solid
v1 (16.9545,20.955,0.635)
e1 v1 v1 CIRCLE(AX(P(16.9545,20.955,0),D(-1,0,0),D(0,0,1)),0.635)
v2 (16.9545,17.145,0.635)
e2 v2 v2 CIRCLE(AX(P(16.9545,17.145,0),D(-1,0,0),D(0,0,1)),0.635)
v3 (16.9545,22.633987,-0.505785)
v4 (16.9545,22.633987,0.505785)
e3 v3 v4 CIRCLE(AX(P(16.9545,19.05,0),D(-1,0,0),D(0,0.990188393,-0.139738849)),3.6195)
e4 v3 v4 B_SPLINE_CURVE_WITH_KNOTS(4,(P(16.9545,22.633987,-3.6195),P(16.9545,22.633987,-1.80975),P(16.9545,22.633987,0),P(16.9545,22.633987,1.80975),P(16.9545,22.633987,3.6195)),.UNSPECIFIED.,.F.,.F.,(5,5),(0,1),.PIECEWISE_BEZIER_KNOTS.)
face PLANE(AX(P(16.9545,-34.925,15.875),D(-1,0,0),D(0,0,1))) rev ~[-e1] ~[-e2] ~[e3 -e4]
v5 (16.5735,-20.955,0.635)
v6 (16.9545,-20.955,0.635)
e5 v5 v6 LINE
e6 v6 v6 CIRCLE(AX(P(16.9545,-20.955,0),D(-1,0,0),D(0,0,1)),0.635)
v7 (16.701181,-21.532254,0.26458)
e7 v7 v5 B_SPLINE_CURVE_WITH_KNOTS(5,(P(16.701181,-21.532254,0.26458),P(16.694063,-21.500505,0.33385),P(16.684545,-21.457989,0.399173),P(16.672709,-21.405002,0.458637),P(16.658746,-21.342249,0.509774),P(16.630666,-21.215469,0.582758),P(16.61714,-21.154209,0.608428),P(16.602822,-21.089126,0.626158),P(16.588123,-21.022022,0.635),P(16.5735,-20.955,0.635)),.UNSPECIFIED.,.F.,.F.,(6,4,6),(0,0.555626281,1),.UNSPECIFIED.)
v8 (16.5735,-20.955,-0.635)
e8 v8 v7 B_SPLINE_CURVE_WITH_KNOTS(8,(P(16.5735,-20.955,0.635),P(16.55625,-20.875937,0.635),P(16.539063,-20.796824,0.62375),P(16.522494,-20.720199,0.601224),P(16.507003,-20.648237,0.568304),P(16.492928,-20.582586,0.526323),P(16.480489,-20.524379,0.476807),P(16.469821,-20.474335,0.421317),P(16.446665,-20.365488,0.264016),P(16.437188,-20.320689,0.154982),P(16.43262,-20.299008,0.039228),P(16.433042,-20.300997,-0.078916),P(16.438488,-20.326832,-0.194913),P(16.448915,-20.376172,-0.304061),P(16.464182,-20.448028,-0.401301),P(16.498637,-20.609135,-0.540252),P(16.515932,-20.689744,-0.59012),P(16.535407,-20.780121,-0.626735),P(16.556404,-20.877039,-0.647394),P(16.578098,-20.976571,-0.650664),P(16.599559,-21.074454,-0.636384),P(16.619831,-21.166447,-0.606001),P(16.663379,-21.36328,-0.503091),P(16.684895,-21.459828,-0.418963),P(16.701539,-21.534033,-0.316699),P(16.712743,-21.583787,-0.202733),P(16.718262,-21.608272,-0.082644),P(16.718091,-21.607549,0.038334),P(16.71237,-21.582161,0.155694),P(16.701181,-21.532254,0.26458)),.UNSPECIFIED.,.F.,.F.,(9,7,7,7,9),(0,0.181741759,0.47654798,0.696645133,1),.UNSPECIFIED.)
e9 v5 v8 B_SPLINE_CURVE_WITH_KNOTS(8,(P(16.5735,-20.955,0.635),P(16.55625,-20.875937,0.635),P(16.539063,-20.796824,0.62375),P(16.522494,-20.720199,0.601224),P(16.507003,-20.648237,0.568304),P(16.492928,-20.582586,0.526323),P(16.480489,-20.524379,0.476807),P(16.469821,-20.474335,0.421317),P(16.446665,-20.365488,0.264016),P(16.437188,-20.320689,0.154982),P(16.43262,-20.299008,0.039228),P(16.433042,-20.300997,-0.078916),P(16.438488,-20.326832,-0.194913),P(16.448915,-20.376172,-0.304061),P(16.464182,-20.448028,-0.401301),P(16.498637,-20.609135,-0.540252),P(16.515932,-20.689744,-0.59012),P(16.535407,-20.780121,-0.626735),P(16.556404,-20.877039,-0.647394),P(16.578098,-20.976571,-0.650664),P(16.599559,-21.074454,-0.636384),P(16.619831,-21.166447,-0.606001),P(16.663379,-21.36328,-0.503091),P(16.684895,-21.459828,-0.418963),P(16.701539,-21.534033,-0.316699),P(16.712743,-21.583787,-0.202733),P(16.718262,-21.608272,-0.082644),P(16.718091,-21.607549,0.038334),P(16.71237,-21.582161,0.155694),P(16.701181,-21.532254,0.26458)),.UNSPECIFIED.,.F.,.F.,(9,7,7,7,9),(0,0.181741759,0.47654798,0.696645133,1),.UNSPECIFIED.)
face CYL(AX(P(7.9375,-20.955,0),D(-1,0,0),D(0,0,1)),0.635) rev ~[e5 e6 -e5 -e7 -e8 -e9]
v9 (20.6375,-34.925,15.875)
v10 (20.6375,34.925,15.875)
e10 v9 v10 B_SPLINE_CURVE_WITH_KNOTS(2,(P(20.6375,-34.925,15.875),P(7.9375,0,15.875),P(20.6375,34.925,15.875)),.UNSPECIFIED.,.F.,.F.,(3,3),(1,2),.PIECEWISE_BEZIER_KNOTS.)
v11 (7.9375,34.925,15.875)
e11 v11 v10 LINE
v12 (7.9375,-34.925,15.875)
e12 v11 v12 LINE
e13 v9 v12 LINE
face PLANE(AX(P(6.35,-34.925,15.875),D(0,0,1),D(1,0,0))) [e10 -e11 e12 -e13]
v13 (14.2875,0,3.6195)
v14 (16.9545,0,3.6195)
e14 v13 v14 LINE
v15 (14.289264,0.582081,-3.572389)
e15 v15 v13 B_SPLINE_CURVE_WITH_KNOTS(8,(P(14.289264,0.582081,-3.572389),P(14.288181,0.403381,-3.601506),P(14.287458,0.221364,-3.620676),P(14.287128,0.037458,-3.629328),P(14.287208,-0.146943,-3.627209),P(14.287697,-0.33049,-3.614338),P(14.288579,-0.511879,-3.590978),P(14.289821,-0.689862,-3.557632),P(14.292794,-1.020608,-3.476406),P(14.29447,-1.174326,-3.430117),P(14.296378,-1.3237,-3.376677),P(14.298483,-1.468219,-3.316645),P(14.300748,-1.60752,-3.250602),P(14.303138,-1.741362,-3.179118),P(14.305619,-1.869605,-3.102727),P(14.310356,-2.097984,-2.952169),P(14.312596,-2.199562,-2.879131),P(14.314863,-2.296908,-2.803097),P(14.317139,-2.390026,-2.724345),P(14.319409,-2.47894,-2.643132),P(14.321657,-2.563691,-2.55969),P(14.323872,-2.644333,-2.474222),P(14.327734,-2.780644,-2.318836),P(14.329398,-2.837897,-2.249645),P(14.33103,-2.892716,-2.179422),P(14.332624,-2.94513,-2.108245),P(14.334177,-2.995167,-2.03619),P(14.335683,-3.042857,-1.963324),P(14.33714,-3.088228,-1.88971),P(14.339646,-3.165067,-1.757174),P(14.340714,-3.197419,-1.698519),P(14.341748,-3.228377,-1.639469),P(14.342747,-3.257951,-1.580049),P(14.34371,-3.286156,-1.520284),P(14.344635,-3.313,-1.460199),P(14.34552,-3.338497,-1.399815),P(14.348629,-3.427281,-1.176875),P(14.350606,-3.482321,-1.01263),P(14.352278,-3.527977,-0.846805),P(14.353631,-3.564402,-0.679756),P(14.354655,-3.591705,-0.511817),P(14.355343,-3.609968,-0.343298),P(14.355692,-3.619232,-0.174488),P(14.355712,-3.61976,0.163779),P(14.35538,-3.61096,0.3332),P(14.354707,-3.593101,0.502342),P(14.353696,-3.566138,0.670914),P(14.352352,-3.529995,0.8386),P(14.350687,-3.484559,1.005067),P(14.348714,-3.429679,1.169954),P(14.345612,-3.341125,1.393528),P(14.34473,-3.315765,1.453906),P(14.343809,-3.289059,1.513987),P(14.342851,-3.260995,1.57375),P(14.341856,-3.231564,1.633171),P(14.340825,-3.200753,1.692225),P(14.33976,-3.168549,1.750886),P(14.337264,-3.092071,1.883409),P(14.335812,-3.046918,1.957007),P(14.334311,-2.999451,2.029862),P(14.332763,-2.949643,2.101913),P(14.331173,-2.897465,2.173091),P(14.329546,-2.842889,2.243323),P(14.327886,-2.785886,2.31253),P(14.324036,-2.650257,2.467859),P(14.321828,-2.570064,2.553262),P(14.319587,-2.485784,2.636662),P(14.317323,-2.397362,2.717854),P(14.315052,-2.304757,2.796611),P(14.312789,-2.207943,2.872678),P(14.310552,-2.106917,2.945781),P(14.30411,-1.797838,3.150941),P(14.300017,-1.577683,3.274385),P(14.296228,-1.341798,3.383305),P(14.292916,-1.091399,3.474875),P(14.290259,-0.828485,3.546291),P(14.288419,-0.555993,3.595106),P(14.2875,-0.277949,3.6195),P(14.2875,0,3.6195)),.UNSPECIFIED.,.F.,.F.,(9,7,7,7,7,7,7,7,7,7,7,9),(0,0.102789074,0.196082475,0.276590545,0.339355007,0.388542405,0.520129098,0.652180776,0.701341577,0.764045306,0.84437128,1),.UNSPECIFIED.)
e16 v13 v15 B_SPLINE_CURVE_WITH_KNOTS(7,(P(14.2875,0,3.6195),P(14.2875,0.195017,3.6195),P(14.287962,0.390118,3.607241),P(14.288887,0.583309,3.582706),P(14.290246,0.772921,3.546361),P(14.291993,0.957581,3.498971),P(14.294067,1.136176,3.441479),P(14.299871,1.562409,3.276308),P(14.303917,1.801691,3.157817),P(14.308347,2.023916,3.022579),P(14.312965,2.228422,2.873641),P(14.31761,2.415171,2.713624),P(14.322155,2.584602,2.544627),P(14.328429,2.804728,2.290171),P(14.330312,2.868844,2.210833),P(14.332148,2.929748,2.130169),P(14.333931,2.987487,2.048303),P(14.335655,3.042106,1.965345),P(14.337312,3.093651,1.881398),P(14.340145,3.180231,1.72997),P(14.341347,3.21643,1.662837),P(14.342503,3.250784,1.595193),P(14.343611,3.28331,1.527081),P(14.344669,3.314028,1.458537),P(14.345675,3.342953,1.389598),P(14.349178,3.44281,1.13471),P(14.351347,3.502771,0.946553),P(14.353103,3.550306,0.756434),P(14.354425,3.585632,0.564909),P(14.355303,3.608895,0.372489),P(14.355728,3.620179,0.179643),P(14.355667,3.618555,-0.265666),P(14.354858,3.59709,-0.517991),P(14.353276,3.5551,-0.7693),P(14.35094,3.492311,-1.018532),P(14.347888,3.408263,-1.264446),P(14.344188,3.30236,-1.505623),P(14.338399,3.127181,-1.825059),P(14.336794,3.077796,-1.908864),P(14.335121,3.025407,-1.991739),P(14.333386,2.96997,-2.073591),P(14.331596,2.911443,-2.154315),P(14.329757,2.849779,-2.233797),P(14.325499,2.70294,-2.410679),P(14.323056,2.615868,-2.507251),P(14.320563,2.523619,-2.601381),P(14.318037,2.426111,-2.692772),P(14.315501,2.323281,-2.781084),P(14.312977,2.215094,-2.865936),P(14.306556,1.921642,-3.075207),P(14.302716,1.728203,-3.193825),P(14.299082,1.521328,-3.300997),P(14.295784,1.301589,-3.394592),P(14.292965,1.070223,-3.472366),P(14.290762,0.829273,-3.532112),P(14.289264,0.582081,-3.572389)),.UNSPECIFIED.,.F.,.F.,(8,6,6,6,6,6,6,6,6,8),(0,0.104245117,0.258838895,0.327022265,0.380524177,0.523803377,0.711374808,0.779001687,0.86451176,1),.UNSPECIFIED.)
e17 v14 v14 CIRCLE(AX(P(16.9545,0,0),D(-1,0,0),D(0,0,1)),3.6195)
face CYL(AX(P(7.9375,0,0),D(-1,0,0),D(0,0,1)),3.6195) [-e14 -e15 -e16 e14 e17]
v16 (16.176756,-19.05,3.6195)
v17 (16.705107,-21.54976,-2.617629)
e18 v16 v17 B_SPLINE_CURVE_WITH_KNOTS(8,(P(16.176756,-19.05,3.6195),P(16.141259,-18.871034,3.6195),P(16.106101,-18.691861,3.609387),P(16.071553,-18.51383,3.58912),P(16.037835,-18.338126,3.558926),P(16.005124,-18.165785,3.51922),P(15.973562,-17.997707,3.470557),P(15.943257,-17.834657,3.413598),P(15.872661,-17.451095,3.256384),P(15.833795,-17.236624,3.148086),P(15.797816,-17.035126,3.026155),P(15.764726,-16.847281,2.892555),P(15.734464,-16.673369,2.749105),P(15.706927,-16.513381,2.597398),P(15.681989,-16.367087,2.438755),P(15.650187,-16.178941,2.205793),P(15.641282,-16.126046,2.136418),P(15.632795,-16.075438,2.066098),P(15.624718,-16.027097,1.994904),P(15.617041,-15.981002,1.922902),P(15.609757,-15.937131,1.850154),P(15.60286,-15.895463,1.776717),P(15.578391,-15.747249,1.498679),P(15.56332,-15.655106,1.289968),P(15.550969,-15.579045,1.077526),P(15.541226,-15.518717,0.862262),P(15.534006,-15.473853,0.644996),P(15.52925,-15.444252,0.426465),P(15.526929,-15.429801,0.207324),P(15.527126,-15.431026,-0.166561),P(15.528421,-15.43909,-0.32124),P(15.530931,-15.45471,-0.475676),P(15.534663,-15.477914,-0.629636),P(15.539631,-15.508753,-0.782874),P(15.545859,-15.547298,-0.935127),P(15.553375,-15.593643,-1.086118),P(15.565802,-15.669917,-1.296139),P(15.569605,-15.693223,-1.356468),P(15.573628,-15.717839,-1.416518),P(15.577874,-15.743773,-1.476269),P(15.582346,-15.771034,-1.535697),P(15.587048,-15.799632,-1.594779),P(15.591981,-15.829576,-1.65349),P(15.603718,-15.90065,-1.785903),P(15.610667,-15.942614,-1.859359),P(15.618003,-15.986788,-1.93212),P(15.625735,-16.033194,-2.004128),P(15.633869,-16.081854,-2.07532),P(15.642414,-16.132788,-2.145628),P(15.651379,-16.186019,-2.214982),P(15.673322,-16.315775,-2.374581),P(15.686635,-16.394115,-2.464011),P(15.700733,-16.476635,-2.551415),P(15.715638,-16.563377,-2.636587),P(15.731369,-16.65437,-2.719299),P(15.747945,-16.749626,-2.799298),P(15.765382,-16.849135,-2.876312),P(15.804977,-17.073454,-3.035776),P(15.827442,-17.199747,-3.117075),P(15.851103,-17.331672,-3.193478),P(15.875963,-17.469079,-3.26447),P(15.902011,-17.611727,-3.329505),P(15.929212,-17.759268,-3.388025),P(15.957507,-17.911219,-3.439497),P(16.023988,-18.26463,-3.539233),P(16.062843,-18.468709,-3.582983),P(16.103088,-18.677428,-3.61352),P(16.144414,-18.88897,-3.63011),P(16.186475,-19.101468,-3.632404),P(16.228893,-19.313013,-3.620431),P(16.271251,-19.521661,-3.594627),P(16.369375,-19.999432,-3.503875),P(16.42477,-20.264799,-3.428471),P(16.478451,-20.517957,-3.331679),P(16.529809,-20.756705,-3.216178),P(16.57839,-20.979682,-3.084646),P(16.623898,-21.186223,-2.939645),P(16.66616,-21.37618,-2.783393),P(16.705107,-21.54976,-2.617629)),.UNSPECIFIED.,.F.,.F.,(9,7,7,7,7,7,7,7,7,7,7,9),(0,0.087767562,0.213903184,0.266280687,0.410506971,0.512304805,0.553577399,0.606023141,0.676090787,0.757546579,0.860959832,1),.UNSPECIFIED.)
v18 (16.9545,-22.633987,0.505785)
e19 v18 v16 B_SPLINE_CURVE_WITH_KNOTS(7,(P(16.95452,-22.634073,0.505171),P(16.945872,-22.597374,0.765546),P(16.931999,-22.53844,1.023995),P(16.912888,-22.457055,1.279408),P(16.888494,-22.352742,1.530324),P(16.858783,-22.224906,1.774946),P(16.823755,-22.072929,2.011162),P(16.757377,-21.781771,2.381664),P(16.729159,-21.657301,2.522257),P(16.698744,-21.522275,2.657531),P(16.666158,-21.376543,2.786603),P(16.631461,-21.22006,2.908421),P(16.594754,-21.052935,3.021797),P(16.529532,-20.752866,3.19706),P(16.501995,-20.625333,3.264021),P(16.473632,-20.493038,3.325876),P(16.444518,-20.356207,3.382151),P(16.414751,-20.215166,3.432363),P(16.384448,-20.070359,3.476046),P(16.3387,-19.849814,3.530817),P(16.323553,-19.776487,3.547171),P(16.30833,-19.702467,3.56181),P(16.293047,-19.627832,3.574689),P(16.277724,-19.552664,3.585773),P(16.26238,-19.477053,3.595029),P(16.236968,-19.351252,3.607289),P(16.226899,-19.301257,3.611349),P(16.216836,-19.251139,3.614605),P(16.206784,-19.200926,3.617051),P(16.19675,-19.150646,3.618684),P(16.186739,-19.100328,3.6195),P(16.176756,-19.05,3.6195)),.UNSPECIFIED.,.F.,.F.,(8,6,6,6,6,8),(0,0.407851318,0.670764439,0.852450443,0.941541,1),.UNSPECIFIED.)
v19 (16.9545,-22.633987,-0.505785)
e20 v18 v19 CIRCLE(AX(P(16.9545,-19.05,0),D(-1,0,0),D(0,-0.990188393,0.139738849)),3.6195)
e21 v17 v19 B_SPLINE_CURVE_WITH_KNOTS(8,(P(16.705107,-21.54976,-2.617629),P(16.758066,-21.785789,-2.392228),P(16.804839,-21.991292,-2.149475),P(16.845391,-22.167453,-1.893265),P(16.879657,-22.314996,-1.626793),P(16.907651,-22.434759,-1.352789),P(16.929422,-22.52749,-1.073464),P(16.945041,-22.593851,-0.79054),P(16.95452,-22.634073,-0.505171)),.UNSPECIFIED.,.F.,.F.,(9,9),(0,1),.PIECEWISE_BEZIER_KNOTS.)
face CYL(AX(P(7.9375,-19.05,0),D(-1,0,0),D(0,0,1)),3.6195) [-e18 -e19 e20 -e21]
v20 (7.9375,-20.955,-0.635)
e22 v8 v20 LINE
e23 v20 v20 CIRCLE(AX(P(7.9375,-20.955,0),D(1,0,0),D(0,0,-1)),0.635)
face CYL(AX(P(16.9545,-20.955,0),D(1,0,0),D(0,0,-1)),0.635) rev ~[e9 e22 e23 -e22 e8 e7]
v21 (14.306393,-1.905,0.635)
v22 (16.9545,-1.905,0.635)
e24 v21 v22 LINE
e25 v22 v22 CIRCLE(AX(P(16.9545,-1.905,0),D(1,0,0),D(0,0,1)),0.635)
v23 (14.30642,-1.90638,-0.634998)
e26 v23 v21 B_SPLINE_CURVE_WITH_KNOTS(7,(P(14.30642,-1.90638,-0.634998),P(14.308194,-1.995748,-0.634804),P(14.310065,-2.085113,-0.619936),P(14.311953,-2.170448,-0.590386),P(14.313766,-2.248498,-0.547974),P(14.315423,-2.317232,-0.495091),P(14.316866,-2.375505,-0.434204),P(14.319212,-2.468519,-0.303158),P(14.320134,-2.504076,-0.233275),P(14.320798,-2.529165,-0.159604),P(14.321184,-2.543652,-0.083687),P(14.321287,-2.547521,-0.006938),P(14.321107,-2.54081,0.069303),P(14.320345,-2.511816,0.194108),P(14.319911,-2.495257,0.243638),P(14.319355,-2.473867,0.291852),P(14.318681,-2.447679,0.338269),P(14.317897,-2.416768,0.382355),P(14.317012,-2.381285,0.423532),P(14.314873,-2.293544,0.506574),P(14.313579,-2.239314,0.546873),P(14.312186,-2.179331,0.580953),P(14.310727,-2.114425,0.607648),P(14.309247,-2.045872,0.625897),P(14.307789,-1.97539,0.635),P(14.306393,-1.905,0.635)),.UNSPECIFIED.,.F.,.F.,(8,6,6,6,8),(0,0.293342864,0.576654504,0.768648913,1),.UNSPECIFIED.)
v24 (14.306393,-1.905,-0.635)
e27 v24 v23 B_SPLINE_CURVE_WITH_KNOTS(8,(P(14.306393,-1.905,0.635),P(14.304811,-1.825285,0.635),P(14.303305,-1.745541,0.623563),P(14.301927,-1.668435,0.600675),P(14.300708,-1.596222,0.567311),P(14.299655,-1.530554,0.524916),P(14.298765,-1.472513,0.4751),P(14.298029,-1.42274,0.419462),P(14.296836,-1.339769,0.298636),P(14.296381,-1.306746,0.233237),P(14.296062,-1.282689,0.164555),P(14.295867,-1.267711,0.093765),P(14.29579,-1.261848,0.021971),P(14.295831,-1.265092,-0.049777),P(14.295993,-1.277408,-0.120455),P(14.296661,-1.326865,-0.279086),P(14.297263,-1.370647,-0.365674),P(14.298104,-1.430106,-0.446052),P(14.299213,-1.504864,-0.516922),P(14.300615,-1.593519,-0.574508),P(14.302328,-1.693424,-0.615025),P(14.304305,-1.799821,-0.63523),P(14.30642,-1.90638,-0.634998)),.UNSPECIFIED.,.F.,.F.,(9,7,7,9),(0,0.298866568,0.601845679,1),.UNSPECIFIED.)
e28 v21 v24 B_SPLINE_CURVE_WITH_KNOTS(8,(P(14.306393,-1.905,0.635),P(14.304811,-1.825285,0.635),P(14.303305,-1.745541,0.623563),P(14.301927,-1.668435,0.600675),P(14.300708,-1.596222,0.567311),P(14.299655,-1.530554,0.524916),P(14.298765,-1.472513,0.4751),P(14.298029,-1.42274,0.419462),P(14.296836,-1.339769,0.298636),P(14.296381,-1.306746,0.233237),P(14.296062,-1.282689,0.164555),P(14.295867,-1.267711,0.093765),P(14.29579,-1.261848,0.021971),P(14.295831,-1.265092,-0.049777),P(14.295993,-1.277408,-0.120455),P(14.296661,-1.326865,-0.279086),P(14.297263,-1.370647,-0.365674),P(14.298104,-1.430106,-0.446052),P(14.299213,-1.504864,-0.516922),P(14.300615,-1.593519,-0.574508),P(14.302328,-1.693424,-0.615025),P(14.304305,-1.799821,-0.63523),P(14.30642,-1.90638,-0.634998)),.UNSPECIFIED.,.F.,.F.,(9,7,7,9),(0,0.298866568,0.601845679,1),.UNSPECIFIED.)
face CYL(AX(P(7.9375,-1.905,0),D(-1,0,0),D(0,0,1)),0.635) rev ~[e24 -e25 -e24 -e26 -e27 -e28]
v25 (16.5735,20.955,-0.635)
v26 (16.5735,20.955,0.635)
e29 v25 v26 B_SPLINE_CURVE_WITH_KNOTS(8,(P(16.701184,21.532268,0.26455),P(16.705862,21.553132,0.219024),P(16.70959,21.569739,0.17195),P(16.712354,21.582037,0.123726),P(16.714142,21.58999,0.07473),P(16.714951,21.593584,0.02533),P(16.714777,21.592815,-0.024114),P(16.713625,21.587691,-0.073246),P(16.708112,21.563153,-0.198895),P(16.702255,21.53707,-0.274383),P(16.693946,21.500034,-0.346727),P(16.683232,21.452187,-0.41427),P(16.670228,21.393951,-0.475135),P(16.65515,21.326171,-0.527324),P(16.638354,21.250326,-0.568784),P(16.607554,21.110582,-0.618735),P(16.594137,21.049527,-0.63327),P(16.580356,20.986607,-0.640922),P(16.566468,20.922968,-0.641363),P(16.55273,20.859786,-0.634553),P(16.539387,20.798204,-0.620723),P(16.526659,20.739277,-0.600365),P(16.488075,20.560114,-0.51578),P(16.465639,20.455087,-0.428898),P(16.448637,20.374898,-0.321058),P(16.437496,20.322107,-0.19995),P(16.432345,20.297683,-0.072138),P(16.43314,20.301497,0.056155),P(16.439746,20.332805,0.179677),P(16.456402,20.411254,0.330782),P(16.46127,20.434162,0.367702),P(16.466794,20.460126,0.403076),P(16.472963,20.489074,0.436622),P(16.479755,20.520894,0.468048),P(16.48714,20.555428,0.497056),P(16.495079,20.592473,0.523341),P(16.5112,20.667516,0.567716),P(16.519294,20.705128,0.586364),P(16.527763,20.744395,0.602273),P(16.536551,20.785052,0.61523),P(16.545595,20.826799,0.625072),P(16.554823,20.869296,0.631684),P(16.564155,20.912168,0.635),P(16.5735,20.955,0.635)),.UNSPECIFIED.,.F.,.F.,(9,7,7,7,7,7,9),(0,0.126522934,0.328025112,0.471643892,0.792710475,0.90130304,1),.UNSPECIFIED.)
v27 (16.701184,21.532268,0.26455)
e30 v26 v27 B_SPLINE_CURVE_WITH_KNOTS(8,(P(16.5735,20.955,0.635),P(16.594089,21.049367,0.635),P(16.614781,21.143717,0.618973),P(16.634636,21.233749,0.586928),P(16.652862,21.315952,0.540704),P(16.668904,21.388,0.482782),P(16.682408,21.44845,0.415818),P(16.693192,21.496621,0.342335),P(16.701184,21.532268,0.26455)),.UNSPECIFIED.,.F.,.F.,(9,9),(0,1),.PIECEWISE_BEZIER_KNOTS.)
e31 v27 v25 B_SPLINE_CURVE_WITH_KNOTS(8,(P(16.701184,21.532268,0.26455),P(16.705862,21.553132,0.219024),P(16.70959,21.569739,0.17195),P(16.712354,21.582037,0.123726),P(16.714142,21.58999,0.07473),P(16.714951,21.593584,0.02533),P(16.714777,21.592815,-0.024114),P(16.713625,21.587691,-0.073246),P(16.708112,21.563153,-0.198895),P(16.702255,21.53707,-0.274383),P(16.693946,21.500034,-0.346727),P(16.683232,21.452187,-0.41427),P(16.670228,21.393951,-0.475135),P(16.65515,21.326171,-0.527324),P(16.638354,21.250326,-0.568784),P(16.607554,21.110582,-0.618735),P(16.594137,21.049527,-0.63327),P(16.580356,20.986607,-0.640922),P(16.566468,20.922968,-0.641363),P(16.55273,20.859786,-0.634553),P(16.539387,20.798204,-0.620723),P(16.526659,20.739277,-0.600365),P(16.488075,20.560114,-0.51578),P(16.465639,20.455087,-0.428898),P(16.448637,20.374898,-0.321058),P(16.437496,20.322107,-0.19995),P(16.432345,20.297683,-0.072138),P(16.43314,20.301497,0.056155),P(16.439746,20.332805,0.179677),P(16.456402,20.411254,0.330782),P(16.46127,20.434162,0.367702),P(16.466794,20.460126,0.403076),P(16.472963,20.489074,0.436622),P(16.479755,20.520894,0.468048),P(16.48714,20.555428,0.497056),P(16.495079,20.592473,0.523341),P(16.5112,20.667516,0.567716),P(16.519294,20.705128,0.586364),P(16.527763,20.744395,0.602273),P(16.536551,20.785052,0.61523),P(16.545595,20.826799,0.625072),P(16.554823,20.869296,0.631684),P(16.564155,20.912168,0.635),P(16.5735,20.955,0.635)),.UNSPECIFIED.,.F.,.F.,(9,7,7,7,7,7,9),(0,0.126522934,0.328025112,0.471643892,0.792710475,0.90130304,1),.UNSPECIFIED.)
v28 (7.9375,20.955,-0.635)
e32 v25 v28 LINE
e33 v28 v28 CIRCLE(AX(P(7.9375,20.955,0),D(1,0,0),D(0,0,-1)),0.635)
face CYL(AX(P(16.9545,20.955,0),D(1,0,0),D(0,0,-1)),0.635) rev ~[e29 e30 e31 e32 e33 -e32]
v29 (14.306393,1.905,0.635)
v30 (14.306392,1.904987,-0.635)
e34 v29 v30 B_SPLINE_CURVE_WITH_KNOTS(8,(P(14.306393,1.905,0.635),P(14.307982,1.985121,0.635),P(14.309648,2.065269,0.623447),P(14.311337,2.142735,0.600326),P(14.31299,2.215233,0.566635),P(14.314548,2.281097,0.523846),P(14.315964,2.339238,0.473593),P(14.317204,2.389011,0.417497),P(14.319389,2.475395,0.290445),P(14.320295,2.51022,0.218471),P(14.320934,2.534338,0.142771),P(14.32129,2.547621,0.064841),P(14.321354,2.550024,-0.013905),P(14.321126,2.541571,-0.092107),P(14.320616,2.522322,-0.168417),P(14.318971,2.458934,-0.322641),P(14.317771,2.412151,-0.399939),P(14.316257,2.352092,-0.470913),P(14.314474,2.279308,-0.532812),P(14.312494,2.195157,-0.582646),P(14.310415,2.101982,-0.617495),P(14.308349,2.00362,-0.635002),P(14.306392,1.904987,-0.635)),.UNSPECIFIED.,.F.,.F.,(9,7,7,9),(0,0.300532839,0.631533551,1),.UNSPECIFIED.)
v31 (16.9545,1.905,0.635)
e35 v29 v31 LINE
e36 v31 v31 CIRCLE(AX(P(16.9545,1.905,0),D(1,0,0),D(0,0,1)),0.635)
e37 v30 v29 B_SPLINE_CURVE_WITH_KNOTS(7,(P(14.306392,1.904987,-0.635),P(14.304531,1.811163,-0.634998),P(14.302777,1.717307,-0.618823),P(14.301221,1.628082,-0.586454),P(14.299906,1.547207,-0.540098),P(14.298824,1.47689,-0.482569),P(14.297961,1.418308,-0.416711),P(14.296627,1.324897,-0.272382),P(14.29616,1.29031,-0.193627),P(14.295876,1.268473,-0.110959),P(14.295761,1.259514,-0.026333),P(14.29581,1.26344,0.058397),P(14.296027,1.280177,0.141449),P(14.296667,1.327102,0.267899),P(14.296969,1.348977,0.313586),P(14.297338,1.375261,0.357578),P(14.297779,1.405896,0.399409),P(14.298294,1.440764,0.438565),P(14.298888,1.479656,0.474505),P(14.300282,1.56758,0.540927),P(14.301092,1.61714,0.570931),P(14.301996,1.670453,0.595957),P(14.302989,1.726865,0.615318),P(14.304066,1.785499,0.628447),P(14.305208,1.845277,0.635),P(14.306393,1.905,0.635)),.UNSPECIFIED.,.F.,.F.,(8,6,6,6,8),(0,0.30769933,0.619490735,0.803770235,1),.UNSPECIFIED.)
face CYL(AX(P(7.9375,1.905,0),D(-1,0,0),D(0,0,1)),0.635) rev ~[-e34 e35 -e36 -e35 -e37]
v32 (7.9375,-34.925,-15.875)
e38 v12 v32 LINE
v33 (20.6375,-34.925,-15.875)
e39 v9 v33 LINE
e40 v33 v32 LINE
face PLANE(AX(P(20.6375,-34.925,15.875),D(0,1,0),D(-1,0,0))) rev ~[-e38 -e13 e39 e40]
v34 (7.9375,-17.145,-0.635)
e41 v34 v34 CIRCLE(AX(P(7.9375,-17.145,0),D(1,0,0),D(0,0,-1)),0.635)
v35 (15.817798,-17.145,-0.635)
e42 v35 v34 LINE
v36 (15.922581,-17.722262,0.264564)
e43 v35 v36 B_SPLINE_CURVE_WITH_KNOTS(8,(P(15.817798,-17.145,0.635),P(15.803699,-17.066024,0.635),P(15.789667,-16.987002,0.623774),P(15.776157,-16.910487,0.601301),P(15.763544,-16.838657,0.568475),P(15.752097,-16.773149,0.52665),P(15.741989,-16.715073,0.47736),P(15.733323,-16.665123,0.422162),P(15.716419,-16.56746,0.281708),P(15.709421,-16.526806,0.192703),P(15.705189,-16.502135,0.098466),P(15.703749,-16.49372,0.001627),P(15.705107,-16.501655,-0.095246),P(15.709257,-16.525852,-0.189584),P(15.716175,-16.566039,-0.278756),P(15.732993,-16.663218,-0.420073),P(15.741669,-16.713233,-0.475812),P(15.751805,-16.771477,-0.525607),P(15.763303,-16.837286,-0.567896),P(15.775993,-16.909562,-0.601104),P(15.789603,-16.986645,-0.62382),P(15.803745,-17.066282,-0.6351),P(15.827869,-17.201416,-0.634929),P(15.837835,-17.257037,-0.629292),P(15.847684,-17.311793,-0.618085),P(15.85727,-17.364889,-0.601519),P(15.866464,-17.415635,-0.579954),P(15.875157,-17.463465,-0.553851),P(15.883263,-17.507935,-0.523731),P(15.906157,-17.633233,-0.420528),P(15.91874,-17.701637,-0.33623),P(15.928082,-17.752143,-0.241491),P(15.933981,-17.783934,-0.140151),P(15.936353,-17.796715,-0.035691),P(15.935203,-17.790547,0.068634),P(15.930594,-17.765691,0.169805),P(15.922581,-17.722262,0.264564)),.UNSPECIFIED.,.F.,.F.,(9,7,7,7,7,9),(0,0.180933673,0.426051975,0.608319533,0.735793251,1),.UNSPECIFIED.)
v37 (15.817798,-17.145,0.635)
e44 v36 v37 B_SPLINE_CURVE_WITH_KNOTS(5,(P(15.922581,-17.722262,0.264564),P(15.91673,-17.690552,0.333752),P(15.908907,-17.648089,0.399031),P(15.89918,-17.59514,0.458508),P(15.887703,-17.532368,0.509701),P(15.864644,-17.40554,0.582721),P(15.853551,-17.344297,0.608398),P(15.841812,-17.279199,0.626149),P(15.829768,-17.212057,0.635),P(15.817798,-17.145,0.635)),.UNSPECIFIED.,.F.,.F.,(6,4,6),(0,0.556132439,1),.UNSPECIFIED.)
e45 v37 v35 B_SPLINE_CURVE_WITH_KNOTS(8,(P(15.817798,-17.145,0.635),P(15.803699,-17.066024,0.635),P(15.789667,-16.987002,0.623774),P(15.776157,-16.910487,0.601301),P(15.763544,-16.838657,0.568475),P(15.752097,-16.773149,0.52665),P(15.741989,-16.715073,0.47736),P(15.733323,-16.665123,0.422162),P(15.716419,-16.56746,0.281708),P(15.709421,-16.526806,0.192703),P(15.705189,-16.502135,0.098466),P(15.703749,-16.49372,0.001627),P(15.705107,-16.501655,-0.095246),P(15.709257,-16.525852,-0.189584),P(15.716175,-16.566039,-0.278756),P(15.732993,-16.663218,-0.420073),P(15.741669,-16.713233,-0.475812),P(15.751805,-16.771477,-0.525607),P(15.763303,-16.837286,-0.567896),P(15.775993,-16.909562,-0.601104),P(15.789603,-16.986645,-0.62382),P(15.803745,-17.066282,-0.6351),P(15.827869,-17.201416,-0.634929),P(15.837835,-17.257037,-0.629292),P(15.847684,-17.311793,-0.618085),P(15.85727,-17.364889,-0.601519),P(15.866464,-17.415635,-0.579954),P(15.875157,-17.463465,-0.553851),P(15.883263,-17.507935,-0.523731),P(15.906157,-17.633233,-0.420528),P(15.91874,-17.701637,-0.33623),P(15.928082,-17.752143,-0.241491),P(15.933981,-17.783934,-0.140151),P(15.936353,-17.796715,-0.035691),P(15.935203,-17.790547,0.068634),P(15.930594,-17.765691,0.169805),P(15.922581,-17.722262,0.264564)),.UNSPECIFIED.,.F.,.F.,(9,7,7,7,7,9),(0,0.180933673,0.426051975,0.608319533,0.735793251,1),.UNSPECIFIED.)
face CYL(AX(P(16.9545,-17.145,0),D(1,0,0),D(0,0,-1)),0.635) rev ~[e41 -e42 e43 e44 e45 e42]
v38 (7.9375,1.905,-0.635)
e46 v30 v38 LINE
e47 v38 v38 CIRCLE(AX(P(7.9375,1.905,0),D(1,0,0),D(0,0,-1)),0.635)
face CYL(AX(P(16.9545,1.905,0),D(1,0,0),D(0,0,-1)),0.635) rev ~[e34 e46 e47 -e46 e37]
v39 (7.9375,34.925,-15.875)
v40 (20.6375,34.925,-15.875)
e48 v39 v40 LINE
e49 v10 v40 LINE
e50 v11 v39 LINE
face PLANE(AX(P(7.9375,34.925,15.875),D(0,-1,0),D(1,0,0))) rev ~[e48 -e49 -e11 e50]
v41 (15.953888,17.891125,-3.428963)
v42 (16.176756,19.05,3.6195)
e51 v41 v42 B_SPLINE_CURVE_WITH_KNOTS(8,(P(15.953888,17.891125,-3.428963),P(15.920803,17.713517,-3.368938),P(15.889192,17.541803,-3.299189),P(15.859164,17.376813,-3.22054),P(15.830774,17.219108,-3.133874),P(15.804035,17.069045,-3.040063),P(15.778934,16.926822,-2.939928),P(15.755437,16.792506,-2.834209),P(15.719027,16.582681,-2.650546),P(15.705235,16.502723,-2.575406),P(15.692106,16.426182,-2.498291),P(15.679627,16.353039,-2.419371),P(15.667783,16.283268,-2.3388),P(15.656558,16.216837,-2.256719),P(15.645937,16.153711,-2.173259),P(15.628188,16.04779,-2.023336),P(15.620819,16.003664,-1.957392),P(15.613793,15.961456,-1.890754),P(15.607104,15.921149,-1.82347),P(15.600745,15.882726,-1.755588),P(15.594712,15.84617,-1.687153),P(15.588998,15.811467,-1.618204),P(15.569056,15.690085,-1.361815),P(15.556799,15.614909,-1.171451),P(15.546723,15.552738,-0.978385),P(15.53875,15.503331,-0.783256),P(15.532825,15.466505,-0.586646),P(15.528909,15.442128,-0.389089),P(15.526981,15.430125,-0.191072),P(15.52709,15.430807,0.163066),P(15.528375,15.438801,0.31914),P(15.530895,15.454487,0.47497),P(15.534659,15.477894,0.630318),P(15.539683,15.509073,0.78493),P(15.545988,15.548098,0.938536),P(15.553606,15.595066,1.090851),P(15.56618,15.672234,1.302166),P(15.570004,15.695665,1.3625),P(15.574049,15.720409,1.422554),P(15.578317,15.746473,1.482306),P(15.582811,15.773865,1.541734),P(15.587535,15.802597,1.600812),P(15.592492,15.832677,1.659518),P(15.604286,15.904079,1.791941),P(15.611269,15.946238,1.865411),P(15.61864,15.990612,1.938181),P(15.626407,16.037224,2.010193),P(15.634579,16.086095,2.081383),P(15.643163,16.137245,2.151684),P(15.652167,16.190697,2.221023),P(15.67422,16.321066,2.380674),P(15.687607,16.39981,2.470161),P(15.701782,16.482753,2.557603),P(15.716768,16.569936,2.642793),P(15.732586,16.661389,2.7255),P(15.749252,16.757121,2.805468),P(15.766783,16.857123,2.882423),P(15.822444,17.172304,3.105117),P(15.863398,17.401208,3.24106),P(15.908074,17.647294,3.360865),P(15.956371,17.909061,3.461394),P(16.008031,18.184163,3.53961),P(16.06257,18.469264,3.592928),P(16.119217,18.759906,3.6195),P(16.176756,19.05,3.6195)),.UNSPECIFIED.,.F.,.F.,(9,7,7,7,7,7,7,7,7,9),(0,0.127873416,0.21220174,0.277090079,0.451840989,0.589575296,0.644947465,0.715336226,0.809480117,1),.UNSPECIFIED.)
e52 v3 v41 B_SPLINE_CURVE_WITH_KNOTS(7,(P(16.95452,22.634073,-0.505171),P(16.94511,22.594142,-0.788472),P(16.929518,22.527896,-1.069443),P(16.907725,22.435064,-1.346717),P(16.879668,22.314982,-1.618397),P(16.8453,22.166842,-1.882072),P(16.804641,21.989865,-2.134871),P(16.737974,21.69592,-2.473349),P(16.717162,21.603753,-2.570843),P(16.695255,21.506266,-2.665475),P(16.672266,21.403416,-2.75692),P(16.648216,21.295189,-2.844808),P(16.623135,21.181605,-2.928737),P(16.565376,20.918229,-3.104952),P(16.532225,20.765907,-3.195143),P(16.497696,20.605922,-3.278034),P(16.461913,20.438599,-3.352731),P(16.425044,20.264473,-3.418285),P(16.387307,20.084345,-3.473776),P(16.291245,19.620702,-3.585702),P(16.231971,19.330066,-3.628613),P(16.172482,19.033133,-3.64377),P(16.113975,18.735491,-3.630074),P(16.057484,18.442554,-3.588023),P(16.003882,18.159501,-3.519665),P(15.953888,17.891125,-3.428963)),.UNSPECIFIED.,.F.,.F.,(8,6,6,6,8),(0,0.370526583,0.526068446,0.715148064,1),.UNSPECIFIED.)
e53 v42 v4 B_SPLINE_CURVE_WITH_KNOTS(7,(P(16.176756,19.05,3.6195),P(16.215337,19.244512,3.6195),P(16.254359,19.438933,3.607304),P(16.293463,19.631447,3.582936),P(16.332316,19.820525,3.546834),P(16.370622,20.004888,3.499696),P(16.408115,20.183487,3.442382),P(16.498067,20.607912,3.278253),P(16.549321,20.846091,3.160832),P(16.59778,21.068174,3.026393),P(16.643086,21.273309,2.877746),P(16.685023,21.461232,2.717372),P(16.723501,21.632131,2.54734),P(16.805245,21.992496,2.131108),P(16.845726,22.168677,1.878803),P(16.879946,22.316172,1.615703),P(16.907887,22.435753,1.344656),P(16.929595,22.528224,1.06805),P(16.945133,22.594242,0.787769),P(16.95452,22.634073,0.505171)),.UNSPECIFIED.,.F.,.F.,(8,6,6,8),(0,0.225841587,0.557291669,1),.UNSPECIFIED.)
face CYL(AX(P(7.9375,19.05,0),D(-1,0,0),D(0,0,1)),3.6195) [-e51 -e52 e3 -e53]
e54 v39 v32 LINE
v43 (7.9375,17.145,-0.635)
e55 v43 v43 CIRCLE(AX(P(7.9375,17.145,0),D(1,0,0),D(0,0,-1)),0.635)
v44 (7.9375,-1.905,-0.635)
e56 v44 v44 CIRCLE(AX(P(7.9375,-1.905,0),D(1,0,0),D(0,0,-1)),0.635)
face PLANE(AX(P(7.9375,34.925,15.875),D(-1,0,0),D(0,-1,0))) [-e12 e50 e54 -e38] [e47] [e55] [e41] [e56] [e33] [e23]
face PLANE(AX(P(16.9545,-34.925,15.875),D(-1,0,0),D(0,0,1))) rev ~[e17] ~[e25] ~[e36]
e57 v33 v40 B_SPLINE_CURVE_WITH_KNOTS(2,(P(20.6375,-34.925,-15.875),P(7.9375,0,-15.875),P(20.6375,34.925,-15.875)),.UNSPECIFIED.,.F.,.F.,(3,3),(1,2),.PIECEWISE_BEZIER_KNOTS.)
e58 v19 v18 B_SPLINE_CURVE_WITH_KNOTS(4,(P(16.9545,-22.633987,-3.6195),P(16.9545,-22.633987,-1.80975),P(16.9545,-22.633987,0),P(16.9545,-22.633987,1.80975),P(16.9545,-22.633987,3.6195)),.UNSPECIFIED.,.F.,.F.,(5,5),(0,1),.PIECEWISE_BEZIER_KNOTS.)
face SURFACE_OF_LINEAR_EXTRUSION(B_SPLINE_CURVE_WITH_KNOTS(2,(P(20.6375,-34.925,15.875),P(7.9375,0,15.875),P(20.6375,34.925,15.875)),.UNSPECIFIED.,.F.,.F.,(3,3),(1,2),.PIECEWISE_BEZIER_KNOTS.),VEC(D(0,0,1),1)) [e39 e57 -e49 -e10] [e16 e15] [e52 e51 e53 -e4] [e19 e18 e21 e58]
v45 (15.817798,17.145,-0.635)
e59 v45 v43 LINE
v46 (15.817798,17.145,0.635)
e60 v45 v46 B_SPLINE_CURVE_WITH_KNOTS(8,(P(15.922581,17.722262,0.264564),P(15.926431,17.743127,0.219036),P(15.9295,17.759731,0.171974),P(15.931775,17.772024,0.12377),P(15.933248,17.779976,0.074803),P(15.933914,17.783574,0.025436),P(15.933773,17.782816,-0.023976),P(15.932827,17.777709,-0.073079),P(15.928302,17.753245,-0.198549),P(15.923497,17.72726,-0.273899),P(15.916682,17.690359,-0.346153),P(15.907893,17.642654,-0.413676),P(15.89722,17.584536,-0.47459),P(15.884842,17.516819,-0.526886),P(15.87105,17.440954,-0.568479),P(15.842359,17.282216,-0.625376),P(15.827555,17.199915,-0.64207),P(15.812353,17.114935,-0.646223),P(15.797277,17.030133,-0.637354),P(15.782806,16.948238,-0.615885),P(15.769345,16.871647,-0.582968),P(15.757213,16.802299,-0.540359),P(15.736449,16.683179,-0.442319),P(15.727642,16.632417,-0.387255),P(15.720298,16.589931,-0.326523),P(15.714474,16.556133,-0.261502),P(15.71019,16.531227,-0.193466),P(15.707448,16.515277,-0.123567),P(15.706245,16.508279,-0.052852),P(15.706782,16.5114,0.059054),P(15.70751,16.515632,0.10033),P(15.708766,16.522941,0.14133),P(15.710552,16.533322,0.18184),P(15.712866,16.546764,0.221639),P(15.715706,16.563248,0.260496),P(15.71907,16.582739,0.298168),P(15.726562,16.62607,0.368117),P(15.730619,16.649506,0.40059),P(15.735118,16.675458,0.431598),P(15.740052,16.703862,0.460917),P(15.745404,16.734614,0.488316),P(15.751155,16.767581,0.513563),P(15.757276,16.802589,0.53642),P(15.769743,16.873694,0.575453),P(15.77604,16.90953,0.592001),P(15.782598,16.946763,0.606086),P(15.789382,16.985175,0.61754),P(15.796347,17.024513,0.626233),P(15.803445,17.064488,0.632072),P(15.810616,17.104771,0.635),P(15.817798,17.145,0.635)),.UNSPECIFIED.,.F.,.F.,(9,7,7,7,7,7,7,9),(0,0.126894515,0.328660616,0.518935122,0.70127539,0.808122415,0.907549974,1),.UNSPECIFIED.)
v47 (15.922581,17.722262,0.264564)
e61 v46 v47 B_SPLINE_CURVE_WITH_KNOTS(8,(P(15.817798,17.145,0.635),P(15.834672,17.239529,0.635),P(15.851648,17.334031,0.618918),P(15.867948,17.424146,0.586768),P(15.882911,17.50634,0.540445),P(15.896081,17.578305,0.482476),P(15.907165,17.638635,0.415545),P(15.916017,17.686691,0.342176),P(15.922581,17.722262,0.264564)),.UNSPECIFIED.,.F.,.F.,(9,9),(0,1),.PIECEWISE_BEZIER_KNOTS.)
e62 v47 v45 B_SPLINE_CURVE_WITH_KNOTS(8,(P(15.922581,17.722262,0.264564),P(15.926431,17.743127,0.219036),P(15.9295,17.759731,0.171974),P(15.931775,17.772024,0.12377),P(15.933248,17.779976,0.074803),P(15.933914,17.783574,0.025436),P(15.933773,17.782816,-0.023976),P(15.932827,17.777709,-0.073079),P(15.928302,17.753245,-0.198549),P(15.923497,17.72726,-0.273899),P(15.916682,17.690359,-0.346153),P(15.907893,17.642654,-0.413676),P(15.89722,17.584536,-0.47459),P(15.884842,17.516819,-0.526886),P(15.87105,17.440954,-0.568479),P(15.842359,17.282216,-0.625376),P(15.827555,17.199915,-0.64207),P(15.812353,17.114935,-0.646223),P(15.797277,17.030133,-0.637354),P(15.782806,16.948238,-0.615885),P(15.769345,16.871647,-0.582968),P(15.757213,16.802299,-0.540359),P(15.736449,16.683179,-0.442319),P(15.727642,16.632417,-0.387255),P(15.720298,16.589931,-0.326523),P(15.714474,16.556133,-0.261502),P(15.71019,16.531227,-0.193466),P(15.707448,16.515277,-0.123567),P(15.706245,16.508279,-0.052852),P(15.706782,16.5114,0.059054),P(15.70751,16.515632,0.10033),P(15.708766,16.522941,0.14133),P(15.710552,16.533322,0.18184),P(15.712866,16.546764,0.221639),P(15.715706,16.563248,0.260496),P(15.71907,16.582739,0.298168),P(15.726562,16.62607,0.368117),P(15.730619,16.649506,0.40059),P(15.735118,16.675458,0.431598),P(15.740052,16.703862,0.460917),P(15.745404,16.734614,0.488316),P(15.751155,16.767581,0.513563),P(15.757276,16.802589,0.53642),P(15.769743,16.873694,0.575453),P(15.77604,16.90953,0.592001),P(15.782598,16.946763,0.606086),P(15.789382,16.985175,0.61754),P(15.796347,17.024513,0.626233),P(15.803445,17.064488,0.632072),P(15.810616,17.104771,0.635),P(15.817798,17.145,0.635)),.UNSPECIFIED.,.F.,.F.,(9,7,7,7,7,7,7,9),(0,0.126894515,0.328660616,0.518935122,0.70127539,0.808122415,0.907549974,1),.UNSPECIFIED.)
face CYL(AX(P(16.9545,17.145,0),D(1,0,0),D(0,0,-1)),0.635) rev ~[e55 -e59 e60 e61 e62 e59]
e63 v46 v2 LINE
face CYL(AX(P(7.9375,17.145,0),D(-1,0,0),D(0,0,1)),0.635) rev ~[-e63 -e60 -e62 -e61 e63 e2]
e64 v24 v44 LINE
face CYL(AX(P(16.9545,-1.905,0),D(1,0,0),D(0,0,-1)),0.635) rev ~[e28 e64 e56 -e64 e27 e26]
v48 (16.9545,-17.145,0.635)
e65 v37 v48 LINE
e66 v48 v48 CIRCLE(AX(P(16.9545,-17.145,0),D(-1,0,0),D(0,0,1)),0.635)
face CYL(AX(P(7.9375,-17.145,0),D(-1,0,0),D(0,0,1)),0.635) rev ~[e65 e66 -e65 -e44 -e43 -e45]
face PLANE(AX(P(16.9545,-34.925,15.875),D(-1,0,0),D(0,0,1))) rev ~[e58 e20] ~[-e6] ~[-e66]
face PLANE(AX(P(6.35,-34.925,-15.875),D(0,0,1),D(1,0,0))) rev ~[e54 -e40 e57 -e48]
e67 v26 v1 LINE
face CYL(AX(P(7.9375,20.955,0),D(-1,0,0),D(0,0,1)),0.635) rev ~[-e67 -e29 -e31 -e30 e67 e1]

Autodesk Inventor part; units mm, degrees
ref_plane "YZ Plane" through (0, 0, 0) normal (1, 0, 0) x (0, 1, 0)
ref_plane "XZ Plane" through (0, 0, 0) normal (0, 1, 0) x (-1, 0, 0)
ref_plane "Work Plane1" through (6.35, -34.925, 15.875) normal (0, 0, 1) x (1, 0, 0)
sketch "Sketch3" plane through (6.35, -34.925, 15.875) normal (0, 0, 1) x (1, 0, 0)
  line L0 (1.5875, 69.85) -> (1.5875, 0) projected
  line L1 (14.2875, 0) -> (1.5875, 34.925) construction
  line L2 (1.5875, 34.925) -> (14.2875, 69.85) construction
  spline S0 degree 2 poles (14.2875, 0) (1.5875, 34.925) (14.2875, 69.85) knots 1 1 1 2 2 2
  line L3 (1.5875, 69.85) -> (14.2875, 69.85)
  line L4 (14.2875, 0) -> (1.5875, 0)
  point P0 (-6.35, 34.925)
  dimension "d9" = 12.7
  dimension "d10" = 12.7
extrude "Extrusion3" add sketch "Sketch3" against normal blind 31.75
sketch "Sketch4" plane through (7.9375, -34.925, 15.875) normal (-1, 0, 0) x (0, 0, 1)
  line L0 (0, 69.85) -> (0, 0) projected
  line L1 (0, 69.85) -> (-31.75, 69.85) projected
  line L2 (-31.75, 0) -> (-31.75, 69.85) projected
  line L3 (0, 0) -> (-31.75, 0) projected
  line L4 (0, 0) -> (-31.75, 0) construction
  line L5 (-15.875, 0) -> (-15.875, 69.85) construction
  line L6 (0, 69.85) -> (-31.75, 69.85) construction
  circle A0 centre (-15.875, 33.02) radius 0.635
  circle A1 centre (-15.875, 36.83) radius 0.635
  circle A2 centre (-15.875, 34.925) radius 3.6195
  circle A3 centre (-15.875, 52.07) radius 0.635
  circle A4 centre (-15.875, 55.88) radius 0.635
  circle A5 centre (-15.875, 53.975) radius 3.6195
  circle A6 centre (-15.875, 13.97) radius 0.635
  circle A7 centre (-15.875, 17.78) radius 0.635
  circle A8 centre (-15.875, 15.875) radius 3.6195
  circle A9 centre (-15.875, 33.02) radius 0.635
  circle A10 centre (-15.875, 36.83) radius 0.635
  circle A11 centre (-15.875, 34.925) radius 3.6195
  dimension "d13" = 1.27
  dimension "d14" = 1.27
  dimension "d15" = 1.905
  dimension "d16" = 1.905
  dimension "d17" = 7.239
  dimension "d20" = 19.05
  dimension "d23" = 19.05
extrude "Extrusion4" add sketch "Sketch4" against normal blind 9.017 contours A2 | A5 | A8
sketch "Sketch5" plane through (16.9545, -34.925, 15.875) normal (1, 0, 0) x (0, 0, -1)
  arc A0 (15.3692, 57.559) -> (16.3808, 57.559) centre (15.875, 53.975) ccw projected
  circle A1 centre (15.875, 55.88) radius 0.635 projected
  circle A2 centre (15.875, 52.07) radius 0.635 projected
  circle A3 centre (15.875, 34.925) radius 3.6195 projected
  circle A4 centre (15.875, 33.02) radius 0.635 projected
  circle A5 centre (15.875, 36.83) radius 0.635 projected
  arc A6 (16.3808, 12.291) -> (15.3692, 12.291) centre (15.875, 15.875) ccw projected
  circle A7 centre (15.875, 17.78) radius 0.635 projected
  circle A8 centre (15.875, 13.97) radius 0.635 projected
extrude "Extrusion5" cut sketch "Sketch5" against normal blind 9.017 contours A1 | A2 | A4 | A5 | A7 | A8
properties part number "LED Reflector"
